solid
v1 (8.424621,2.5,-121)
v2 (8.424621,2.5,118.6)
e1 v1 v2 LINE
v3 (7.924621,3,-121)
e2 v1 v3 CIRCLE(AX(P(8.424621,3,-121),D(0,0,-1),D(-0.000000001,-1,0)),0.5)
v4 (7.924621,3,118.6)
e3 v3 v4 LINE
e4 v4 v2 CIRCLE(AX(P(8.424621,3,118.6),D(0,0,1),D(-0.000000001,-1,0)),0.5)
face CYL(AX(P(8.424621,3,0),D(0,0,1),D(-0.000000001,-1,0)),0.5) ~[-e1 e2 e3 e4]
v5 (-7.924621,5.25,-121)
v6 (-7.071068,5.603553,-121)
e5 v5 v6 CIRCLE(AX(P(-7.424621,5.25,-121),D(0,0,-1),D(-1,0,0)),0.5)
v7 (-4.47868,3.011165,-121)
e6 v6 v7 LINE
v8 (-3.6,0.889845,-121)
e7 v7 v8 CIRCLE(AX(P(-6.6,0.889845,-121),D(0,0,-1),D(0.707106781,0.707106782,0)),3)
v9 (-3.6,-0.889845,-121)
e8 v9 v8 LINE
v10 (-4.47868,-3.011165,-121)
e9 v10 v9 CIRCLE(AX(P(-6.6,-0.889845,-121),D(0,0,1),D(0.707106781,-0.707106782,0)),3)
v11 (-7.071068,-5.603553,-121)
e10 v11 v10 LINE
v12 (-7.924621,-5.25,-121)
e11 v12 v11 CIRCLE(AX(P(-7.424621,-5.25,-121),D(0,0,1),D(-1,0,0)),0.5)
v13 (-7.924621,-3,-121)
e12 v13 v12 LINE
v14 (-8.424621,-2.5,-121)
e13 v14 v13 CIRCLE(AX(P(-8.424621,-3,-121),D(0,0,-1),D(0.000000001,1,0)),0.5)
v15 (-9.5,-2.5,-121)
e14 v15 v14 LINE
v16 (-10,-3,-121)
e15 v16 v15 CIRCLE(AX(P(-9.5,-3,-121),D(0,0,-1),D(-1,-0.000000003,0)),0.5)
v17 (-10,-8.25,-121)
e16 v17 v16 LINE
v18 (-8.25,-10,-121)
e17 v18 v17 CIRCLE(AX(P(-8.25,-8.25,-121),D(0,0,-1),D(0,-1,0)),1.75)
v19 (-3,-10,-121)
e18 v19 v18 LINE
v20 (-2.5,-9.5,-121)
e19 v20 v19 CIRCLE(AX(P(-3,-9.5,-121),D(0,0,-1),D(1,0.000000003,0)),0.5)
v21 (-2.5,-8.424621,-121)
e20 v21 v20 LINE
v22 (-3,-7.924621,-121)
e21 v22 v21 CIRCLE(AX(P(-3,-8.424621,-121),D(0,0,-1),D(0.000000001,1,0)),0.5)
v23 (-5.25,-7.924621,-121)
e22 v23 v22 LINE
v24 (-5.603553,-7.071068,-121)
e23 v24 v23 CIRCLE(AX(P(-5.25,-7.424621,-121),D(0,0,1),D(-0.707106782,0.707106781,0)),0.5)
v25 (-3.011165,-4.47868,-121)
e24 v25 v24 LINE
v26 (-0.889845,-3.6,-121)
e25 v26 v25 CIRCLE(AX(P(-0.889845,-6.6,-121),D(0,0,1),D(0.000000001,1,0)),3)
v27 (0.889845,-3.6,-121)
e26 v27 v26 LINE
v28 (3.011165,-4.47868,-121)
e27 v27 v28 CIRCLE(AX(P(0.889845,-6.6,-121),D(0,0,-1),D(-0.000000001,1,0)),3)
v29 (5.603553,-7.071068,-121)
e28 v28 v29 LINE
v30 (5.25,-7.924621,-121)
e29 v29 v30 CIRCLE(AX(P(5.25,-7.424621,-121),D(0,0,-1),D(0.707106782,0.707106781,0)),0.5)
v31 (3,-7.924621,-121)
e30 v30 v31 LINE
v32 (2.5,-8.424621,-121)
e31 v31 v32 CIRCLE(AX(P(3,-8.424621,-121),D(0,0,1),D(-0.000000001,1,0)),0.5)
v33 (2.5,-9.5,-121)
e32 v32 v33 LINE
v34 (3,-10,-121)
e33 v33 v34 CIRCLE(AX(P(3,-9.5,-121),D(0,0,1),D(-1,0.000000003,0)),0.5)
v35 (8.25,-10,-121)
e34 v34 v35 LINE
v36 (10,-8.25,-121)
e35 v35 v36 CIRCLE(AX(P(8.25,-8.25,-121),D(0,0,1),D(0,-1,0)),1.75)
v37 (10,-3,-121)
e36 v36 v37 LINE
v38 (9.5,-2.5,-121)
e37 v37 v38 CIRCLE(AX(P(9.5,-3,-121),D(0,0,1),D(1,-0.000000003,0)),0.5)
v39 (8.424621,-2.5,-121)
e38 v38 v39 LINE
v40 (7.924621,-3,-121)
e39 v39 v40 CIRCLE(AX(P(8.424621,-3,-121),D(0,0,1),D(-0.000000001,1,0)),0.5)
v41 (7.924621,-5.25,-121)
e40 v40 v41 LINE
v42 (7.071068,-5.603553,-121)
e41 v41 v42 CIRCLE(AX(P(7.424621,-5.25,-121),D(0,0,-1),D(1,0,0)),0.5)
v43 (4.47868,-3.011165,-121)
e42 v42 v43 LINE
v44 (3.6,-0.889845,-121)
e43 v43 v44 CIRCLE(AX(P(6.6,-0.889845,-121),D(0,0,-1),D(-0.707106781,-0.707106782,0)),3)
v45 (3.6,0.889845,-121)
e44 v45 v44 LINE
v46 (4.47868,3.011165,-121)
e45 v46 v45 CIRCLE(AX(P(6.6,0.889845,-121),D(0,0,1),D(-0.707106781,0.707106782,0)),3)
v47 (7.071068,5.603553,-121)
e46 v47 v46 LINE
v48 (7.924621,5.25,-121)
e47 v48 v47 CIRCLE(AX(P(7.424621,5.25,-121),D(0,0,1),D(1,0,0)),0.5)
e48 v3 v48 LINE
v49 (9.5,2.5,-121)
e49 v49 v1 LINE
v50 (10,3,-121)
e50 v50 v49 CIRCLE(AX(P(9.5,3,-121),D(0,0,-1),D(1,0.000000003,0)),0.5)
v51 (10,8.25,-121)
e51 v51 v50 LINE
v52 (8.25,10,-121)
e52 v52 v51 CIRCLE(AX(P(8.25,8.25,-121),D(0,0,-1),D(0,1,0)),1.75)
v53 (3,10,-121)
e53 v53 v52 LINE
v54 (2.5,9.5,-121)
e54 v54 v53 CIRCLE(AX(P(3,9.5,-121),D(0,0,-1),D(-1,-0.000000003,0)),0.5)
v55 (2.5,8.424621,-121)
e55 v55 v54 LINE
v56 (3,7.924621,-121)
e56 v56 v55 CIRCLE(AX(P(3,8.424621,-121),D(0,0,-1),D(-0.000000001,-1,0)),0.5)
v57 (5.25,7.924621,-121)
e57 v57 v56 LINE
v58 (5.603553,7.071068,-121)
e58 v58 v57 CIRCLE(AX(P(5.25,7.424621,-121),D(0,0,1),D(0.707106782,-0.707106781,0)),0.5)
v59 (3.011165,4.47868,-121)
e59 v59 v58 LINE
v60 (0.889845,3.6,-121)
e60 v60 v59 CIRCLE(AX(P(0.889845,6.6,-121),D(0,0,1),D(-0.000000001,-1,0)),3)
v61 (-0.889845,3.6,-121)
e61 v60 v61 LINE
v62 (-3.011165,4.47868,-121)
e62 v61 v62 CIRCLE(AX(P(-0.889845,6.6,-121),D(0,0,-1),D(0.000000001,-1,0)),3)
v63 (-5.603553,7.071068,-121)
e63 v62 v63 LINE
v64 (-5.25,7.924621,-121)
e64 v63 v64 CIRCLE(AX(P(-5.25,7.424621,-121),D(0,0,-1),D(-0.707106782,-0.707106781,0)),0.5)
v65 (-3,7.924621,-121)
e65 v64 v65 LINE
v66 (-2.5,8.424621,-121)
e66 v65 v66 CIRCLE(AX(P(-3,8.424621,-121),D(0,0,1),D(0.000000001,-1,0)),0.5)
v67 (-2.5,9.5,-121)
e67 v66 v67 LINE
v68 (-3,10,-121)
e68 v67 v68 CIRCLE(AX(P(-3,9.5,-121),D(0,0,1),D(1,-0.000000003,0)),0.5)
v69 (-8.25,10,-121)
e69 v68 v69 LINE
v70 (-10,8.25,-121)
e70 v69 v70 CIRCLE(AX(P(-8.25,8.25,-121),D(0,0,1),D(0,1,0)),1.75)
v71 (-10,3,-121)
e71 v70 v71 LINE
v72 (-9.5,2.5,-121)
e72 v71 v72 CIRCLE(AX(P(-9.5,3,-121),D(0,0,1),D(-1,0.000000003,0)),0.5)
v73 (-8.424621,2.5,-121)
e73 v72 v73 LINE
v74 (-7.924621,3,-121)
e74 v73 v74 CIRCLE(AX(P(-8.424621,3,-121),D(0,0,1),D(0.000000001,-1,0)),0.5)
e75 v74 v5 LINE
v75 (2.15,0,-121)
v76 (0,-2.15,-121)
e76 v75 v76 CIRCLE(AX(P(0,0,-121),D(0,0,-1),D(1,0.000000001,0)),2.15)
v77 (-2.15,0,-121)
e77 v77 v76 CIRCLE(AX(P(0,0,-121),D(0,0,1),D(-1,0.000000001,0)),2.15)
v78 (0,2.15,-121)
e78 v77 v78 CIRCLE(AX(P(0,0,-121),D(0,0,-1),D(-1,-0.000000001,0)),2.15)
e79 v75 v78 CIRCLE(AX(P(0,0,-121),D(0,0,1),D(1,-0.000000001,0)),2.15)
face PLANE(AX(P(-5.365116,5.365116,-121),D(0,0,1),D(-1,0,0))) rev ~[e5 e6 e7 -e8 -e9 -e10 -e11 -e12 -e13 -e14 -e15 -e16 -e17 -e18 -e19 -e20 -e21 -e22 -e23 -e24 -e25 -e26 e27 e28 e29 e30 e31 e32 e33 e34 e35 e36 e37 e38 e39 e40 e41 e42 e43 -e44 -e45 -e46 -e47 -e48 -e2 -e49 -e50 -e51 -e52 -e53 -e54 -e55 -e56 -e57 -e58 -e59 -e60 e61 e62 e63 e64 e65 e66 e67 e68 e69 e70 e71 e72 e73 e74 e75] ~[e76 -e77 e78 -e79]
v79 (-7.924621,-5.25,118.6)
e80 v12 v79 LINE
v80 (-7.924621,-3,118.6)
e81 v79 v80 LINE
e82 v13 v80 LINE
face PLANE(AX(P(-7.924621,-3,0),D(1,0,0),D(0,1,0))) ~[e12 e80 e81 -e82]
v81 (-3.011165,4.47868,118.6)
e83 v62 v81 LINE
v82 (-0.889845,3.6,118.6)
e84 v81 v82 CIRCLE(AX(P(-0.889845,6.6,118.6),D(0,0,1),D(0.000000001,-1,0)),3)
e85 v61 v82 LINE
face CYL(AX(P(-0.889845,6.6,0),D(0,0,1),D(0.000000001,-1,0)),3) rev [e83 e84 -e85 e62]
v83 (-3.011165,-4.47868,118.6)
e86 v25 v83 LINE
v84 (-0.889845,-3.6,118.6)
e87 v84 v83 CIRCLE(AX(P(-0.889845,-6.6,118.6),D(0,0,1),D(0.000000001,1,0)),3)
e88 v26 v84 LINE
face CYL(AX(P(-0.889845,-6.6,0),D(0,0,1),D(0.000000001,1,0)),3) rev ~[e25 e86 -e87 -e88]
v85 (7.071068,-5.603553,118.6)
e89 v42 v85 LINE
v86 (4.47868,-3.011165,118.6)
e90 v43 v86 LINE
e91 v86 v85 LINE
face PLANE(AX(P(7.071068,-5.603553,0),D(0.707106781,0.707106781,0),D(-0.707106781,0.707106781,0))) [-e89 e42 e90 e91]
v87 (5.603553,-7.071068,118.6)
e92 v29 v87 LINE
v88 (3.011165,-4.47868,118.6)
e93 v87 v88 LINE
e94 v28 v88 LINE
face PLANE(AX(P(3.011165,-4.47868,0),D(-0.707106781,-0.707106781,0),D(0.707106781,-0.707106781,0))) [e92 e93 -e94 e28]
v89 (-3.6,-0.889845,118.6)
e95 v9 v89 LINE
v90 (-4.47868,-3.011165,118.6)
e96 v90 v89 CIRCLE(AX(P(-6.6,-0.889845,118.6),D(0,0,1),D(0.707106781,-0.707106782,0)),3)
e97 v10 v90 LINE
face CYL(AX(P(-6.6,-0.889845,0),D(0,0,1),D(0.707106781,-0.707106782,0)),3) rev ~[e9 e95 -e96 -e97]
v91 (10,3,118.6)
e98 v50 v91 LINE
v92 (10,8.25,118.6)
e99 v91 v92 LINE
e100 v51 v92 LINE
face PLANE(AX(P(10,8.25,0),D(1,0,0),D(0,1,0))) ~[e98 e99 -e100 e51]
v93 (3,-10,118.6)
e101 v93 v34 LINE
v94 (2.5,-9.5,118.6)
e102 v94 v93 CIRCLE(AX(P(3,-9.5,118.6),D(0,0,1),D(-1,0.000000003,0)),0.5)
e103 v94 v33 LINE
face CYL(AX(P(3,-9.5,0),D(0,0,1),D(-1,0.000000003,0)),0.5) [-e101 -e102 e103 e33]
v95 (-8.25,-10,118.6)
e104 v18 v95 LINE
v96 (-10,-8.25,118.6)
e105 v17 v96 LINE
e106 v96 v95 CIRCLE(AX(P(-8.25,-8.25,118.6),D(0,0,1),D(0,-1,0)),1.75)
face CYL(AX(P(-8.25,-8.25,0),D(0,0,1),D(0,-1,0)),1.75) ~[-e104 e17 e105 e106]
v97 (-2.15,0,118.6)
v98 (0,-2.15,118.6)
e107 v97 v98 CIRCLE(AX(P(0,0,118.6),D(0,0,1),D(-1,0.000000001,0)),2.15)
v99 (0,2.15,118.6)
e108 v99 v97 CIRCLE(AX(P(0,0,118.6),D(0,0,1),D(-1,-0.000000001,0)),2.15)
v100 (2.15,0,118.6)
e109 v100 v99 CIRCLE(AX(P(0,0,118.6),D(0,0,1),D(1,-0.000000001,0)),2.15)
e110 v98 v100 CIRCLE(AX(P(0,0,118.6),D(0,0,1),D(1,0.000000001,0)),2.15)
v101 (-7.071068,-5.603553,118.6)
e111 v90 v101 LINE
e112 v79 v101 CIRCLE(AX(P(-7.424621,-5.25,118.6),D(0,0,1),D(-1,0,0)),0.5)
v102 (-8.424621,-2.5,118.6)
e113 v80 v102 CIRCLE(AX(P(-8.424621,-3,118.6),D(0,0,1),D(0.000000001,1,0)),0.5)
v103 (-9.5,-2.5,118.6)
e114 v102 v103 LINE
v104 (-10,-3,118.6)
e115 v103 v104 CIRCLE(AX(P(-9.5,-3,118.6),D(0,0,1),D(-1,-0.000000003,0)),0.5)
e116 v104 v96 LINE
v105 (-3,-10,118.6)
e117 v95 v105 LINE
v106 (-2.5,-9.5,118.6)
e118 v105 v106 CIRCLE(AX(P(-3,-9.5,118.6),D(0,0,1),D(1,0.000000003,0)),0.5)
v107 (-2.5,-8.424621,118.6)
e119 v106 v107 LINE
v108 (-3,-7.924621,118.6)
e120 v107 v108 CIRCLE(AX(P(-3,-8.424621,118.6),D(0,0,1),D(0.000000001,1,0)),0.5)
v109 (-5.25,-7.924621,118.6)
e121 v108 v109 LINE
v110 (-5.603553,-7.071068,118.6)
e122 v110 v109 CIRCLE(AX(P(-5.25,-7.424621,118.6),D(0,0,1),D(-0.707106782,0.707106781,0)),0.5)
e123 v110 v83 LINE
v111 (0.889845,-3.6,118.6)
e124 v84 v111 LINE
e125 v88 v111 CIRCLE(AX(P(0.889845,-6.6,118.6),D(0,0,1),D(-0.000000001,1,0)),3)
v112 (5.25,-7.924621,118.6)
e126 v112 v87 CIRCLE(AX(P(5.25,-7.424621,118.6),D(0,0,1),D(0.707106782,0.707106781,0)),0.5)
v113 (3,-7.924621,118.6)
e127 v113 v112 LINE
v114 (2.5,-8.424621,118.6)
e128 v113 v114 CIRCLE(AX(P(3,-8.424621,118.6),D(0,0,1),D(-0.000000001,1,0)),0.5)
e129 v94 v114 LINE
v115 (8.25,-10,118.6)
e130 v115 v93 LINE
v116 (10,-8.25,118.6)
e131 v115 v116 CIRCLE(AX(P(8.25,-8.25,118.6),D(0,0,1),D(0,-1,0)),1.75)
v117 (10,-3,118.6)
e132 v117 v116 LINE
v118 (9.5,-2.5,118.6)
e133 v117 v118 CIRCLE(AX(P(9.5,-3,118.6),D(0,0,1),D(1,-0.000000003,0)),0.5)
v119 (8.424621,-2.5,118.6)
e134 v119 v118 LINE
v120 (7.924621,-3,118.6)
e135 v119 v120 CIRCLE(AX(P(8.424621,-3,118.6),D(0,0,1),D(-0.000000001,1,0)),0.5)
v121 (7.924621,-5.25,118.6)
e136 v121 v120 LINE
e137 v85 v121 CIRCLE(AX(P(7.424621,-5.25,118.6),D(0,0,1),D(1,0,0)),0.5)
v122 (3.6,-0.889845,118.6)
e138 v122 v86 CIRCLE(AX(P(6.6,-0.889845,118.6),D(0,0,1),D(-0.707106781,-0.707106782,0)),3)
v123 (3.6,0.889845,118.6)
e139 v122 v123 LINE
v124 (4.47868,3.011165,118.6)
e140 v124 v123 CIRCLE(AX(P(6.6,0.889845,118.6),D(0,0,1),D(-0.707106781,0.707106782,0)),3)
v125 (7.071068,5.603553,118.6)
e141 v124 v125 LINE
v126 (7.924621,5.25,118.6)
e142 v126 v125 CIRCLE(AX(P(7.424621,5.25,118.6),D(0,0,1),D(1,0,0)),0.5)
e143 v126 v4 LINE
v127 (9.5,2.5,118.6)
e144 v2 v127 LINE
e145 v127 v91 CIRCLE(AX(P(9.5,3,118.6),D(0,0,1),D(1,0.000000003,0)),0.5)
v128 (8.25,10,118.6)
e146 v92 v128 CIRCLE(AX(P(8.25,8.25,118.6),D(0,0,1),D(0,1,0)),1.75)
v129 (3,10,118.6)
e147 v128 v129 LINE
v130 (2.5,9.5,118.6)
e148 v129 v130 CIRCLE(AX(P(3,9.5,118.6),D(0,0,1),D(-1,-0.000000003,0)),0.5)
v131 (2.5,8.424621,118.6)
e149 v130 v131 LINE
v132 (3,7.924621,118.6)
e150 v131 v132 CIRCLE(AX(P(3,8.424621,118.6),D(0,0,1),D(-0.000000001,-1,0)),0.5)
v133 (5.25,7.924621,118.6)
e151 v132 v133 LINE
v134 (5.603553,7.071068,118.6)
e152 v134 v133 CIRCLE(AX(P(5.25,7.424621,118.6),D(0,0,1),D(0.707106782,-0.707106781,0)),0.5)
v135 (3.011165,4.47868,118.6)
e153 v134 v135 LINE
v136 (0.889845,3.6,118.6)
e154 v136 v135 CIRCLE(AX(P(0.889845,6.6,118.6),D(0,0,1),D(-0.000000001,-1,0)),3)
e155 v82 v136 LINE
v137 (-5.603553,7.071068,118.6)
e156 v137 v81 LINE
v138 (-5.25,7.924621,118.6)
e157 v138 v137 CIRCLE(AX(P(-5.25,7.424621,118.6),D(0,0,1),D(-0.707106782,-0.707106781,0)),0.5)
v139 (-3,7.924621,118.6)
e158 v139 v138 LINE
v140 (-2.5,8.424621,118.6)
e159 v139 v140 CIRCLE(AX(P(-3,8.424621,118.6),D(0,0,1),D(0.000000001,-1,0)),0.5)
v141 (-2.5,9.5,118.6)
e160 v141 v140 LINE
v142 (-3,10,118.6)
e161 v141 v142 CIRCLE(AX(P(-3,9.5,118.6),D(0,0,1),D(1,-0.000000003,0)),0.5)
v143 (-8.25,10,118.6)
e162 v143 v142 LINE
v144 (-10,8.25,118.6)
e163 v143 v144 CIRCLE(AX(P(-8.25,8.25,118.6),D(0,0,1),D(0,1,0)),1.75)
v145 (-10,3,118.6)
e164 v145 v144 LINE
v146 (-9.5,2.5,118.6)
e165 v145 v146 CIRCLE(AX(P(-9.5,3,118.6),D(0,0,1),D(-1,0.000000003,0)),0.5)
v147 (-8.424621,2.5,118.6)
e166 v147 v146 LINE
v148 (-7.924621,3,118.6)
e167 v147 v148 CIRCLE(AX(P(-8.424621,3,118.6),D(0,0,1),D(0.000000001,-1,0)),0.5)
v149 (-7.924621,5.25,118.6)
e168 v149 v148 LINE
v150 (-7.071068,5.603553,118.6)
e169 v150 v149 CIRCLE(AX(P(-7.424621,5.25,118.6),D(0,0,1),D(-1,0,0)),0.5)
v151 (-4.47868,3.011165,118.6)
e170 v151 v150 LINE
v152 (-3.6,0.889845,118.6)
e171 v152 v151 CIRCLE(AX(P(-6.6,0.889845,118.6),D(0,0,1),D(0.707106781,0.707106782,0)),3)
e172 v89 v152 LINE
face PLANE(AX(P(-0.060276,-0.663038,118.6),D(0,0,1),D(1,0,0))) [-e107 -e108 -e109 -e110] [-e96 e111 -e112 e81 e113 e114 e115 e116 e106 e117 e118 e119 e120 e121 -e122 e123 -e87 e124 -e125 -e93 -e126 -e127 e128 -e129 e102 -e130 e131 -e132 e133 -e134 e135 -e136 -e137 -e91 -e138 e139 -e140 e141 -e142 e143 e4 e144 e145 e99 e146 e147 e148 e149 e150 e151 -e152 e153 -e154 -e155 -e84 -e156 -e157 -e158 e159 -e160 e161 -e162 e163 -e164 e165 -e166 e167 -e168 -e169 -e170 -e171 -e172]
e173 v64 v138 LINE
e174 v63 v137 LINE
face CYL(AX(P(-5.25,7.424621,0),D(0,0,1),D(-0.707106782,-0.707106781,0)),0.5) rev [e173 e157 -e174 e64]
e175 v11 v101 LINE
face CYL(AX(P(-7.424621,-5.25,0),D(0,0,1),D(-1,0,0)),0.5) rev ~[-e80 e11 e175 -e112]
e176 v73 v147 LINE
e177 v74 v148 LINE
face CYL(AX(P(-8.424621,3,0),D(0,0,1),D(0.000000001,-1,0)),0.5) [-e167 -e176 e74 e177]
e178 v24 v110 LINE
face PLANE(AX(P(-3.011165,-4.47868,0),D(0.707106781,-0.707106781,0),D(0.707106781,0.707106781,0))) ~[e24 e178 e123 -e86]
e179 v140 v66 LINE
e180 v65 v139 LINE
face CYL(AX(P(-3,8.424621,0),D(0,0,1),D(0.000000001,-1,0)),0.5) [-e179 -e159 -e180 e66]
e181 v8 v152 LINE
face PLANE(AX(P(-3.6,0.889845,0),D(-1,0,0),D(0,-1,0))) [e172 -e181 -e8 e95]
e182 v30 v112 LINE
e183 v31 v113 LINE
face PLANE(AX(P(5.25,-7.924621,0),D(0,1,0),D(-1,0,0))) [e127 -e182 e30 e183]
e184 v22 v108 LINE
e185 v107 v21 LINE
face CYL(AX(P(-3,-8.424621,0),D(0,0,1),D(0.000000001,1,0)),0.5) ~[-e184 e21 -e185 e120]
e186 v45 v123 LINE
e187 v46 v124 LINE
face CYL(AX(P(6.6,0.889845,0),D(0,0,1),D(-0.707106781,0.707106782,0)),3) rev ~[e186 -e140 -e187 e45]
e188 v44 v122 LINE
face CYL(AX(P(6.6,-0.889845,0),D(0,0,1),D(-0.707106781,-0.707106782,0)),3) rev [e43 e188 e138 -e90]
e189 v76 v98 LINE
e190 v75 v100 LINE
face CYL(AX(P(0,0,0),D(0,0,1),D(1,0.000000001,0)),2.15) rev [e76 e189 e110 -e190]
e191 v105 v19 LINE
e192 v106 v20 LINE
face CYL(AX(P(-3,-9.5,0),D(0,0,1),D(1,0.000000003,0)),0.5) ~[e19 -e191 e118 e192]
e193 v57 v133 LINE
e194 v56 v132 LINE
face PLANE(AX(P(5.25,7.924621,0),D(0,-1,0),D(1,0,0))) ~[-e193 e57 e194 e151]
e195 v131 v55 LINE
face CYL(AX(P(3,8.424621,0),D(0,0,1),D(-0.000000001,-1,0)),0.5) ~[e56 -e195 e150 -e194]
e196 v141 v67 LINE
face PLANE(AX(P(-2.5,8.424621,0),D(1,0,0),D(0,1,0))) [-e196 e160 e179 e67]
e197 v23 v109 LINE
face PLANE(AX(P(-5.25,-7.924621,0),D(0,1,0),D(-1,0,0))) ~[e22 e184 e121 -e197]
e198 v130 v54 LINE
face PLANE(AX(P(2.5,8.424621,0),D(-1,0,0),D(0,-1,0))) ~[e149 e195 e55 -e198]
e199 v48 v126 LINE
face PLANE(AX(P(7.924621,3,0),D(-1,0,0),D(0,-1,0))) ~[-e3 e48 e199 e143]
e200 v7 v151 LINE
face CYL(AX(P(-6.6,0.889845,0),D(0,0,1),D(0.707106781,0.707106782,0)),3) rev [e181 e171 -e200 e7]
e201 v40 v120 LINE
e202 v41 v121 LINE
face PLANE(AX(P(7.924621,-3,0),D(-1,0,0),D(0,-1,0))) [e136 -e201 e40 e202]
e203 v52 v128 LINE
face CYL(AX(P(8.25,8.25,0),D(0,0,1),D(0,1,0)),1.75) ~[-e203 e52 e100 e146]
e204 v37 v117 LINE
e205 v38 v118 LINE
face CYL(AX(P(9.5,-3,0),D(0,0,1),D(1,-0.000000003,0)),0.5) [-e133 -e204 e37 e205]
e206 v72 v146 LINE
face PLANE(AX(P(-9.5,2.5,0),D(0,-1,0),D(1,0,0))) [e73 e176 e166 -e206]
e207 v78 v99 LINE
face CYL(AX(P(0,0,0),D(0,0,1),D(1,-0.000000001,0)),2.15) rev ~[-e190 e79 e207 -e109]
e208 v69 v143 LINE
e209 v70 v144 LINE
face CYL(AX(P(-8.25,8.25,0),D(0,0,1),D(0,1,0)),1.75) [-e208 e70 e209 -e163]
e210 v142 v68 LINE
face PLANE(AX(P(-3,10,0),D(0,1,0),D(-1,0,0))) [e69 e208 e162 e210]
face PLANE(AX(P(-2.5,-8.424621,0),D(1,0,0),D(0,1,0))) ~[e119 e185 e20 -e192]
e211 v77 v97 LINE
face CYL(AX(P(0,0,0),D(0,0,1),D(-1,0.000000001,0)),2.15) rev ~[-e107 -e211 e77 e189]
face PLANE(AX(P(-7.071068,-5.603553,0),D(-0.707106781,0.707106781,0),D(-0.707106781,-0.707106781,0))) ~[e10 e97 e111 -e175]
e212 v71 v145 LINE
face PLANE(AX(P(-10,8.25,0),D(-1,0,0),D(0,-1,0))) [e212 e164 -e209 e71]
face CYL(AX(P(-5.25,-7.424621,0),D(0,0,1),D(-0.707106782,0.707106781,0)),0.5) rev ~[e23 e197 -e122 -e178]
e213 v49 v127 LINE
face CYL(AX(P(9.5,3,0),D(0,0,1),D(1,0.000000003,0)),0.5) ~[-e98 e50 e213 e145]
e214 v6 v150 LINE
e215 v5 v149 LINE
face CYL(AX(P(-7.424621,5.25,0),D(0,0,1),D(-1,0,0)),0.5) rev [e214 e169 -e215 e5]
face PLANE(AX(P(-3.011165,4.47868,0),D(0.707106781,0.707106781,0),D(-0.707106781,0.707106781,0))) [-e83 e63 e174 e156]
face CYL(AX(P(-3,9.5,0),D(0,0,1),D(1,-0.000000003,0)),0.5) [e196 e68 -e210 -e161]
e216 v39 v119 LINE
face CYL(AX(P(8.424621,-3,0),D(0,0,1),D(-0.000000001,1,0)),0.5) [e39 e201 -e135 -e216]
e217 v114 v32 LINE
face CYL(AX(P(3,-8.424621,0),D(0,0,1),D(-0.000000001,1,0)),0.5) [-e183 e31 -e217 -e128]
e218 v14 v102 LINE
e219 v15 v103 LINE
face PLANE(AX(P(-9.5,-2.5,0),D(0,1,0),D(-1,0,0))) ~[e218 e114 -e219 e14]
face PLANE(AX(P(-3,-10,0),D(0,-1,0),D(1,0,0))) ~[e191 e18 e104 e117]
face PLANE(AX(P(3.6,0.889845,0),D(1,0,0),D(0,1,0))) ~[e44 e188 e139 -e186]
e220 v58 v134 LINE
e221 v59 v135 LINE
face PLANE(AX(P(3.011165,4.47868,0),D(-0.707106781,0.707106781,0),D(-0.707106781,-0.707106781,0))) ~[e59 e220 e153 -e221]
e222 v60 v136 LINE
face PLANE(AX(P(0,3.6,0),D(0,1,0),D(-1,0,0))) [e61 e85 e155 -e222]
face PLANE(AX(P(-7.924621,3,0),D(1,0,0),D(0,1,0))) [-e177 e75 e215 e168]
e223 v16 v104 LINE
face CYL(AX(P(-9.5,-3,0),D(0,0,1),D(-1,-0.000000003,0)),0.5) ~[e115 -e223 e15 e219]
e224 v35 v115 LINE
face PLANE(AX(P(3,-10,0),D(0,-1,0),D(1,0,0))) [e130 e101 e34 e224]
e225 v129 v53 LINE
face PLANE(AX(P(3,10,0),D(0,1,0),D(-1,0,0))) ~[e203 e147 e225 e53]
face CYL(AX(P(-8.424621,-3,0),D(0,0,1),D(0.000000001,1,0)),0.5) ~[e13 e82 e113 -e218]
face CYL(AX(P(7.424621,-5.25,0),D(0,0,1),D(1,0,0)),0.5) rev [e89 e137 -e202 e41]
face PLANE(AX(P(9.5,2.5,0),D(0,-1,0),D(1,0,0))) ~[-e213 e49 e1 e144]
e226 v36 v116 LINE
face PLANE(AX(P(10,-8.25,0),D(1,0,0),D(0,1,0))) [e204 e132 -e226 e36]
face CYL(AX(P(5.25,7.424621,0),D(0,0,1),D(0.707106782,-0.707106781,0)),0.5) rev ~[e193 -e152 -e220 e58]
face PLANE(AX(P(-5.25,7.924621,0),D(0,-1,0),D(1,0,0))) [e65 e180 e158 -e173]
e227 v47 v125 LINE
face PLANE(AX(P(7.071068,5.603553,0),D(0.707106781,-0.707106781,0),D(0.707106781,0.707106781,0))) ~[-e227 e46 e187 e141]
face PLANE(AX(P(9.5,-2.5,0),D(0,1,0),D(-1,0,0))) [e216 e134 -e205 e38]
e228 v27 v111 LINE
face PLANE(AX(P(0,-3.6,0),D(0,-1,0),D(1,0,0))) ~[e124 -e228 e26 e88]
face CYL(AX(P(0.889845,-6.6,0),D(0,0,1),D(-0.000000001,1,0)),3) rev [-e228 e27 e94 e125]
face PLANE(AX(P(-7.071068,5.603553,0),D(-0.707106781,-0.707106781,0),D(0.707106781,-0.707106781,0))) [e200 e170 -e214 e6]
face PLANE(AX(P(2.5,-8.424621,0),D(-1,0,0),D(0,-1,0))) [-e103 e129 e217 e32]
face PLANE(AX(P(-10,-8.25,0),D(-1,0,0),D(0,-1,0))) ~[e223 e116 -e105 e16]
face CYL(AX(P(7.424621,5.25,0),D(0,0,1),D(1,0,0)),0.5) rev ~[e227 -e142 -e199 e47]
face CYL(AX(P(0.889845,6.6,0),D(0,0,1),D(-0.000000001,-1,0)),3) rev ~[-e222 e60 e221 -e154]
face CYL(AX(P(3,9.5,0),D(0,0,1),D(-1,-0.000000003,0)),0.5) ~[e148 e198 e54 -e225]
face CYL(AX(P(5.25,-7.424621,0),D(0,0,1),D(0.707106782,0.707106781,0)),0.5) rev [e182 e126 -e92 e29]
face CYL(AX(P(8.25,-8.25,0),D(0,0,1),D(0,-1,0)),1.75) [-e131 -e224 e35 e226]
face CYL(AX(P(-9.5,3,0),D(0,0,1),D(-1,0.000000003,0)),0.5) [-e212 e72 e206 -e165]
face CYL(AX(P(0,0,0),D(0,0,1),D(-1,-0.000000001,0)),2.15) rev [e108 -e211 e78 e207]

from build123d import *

# Parameters (mm, degrees)
BOSS_EXTRUDE1_DEPTH = 121
SKETCH5_W           = 27.787302718
SKETCH5_H           = 26.03929452
CUT_EXTRUDE1_DEPTH  = 2.4


with BuildPart() as part:
    # Sketch4 → Boss-Extrude1 (new, symmetric)
    with BuildSketch(Plane.XY):
        with BuildLine():
            Line((3, -10), (8.25, -10))
            ThreePointArc((8.25, -10), (9.487436867, -9.487436867), (10, -8.25))
            Line((10, -8.25), (10, -3))
            ThreePointArc((10, -3), (9.853553391, -2.646446609), (9.5, -2.5))
            Line((9.5, -2.5), (8.424621202, -2.5))
            ThreePointArc((8.424621202, -2.5), (8.071067812, -2.646446609), (7.924621202, -3))
            Line((7.924621202, -3), (7.924621202, -5.25))
            ThreePointArc((7.924621202, -5.25), (7.615962919, -5.711939766), (7.071067812, -5.603553391))
            Line((7.071067812, -5.603553391), (4.478679656, -3.011165235))
            ThreePointArc((4.478679656, -3.011165235), (3.828361402, -2.037895189), (3.6, -0.889844892))
            Line((3.6, -0.889844892), (3.6, 0))
            Line((3.6, 0), (2.15, 0))
            ThreePointArc((2.15, 0), (1.52027958, -1.52027958), (0, -2.15))
            Line((0, -2.15), (0, -3.6))
            Line((0, -3.6), (0.889844892, -3.6))
            ThreePointArc((0.889844892, -3.6), (2.037895189, -3.828361402), (3.011165235, -4.478679656))
            Line((3.011165235, -4.478679656), (5.603553391, -7.071067812))
            ThreePointArc((5.603553391, -7.071067812), (5.711939766, -7.615962919), (5.25, -7.924621202))
            Line((5.25, -7.924621202), (3, -7.924621202))
            ThreePointArc((3, -7.924621202), (2.646446609, -8.071067812), (2.5, -8.424621202))
            Line((2.5, -8.424621202), (2.5, -9.5))
            ThreePointArc((2.5, -9.5), (2.646446609, -9.853553391), (3, -10))
        make_face()
    extrude(amount=BOSS_EXTRUDE1_DEPTH, both=True)

    # Mirror1: part across plane


with BuildPart() as part_1:
    add(part.part)
    add(part.part.mirror(Plane(origin=(0, 0, 0), x_dir=(0, 0, 1), z_dir=(1, 0, 0))))

    # Mirror2: part across plane


with BuildPart() as part_2:
    add(part_1.part)
    add(part_1.part.mirror(Plane.ZX))

    # Sketch5 → Cut-Extrude1 (cut)
    with BuildSketch(Plane.XY.offset(121)):
        with Locations((-0.060276145, -0.663037592)):
            Rectangle(SKETCH5_W, SKETCH5_H)
    extrude(amount=-CUT_EXTRUDE1_DEPTH, mode=Mode.SUBTRACT)


solid = part_2.part
